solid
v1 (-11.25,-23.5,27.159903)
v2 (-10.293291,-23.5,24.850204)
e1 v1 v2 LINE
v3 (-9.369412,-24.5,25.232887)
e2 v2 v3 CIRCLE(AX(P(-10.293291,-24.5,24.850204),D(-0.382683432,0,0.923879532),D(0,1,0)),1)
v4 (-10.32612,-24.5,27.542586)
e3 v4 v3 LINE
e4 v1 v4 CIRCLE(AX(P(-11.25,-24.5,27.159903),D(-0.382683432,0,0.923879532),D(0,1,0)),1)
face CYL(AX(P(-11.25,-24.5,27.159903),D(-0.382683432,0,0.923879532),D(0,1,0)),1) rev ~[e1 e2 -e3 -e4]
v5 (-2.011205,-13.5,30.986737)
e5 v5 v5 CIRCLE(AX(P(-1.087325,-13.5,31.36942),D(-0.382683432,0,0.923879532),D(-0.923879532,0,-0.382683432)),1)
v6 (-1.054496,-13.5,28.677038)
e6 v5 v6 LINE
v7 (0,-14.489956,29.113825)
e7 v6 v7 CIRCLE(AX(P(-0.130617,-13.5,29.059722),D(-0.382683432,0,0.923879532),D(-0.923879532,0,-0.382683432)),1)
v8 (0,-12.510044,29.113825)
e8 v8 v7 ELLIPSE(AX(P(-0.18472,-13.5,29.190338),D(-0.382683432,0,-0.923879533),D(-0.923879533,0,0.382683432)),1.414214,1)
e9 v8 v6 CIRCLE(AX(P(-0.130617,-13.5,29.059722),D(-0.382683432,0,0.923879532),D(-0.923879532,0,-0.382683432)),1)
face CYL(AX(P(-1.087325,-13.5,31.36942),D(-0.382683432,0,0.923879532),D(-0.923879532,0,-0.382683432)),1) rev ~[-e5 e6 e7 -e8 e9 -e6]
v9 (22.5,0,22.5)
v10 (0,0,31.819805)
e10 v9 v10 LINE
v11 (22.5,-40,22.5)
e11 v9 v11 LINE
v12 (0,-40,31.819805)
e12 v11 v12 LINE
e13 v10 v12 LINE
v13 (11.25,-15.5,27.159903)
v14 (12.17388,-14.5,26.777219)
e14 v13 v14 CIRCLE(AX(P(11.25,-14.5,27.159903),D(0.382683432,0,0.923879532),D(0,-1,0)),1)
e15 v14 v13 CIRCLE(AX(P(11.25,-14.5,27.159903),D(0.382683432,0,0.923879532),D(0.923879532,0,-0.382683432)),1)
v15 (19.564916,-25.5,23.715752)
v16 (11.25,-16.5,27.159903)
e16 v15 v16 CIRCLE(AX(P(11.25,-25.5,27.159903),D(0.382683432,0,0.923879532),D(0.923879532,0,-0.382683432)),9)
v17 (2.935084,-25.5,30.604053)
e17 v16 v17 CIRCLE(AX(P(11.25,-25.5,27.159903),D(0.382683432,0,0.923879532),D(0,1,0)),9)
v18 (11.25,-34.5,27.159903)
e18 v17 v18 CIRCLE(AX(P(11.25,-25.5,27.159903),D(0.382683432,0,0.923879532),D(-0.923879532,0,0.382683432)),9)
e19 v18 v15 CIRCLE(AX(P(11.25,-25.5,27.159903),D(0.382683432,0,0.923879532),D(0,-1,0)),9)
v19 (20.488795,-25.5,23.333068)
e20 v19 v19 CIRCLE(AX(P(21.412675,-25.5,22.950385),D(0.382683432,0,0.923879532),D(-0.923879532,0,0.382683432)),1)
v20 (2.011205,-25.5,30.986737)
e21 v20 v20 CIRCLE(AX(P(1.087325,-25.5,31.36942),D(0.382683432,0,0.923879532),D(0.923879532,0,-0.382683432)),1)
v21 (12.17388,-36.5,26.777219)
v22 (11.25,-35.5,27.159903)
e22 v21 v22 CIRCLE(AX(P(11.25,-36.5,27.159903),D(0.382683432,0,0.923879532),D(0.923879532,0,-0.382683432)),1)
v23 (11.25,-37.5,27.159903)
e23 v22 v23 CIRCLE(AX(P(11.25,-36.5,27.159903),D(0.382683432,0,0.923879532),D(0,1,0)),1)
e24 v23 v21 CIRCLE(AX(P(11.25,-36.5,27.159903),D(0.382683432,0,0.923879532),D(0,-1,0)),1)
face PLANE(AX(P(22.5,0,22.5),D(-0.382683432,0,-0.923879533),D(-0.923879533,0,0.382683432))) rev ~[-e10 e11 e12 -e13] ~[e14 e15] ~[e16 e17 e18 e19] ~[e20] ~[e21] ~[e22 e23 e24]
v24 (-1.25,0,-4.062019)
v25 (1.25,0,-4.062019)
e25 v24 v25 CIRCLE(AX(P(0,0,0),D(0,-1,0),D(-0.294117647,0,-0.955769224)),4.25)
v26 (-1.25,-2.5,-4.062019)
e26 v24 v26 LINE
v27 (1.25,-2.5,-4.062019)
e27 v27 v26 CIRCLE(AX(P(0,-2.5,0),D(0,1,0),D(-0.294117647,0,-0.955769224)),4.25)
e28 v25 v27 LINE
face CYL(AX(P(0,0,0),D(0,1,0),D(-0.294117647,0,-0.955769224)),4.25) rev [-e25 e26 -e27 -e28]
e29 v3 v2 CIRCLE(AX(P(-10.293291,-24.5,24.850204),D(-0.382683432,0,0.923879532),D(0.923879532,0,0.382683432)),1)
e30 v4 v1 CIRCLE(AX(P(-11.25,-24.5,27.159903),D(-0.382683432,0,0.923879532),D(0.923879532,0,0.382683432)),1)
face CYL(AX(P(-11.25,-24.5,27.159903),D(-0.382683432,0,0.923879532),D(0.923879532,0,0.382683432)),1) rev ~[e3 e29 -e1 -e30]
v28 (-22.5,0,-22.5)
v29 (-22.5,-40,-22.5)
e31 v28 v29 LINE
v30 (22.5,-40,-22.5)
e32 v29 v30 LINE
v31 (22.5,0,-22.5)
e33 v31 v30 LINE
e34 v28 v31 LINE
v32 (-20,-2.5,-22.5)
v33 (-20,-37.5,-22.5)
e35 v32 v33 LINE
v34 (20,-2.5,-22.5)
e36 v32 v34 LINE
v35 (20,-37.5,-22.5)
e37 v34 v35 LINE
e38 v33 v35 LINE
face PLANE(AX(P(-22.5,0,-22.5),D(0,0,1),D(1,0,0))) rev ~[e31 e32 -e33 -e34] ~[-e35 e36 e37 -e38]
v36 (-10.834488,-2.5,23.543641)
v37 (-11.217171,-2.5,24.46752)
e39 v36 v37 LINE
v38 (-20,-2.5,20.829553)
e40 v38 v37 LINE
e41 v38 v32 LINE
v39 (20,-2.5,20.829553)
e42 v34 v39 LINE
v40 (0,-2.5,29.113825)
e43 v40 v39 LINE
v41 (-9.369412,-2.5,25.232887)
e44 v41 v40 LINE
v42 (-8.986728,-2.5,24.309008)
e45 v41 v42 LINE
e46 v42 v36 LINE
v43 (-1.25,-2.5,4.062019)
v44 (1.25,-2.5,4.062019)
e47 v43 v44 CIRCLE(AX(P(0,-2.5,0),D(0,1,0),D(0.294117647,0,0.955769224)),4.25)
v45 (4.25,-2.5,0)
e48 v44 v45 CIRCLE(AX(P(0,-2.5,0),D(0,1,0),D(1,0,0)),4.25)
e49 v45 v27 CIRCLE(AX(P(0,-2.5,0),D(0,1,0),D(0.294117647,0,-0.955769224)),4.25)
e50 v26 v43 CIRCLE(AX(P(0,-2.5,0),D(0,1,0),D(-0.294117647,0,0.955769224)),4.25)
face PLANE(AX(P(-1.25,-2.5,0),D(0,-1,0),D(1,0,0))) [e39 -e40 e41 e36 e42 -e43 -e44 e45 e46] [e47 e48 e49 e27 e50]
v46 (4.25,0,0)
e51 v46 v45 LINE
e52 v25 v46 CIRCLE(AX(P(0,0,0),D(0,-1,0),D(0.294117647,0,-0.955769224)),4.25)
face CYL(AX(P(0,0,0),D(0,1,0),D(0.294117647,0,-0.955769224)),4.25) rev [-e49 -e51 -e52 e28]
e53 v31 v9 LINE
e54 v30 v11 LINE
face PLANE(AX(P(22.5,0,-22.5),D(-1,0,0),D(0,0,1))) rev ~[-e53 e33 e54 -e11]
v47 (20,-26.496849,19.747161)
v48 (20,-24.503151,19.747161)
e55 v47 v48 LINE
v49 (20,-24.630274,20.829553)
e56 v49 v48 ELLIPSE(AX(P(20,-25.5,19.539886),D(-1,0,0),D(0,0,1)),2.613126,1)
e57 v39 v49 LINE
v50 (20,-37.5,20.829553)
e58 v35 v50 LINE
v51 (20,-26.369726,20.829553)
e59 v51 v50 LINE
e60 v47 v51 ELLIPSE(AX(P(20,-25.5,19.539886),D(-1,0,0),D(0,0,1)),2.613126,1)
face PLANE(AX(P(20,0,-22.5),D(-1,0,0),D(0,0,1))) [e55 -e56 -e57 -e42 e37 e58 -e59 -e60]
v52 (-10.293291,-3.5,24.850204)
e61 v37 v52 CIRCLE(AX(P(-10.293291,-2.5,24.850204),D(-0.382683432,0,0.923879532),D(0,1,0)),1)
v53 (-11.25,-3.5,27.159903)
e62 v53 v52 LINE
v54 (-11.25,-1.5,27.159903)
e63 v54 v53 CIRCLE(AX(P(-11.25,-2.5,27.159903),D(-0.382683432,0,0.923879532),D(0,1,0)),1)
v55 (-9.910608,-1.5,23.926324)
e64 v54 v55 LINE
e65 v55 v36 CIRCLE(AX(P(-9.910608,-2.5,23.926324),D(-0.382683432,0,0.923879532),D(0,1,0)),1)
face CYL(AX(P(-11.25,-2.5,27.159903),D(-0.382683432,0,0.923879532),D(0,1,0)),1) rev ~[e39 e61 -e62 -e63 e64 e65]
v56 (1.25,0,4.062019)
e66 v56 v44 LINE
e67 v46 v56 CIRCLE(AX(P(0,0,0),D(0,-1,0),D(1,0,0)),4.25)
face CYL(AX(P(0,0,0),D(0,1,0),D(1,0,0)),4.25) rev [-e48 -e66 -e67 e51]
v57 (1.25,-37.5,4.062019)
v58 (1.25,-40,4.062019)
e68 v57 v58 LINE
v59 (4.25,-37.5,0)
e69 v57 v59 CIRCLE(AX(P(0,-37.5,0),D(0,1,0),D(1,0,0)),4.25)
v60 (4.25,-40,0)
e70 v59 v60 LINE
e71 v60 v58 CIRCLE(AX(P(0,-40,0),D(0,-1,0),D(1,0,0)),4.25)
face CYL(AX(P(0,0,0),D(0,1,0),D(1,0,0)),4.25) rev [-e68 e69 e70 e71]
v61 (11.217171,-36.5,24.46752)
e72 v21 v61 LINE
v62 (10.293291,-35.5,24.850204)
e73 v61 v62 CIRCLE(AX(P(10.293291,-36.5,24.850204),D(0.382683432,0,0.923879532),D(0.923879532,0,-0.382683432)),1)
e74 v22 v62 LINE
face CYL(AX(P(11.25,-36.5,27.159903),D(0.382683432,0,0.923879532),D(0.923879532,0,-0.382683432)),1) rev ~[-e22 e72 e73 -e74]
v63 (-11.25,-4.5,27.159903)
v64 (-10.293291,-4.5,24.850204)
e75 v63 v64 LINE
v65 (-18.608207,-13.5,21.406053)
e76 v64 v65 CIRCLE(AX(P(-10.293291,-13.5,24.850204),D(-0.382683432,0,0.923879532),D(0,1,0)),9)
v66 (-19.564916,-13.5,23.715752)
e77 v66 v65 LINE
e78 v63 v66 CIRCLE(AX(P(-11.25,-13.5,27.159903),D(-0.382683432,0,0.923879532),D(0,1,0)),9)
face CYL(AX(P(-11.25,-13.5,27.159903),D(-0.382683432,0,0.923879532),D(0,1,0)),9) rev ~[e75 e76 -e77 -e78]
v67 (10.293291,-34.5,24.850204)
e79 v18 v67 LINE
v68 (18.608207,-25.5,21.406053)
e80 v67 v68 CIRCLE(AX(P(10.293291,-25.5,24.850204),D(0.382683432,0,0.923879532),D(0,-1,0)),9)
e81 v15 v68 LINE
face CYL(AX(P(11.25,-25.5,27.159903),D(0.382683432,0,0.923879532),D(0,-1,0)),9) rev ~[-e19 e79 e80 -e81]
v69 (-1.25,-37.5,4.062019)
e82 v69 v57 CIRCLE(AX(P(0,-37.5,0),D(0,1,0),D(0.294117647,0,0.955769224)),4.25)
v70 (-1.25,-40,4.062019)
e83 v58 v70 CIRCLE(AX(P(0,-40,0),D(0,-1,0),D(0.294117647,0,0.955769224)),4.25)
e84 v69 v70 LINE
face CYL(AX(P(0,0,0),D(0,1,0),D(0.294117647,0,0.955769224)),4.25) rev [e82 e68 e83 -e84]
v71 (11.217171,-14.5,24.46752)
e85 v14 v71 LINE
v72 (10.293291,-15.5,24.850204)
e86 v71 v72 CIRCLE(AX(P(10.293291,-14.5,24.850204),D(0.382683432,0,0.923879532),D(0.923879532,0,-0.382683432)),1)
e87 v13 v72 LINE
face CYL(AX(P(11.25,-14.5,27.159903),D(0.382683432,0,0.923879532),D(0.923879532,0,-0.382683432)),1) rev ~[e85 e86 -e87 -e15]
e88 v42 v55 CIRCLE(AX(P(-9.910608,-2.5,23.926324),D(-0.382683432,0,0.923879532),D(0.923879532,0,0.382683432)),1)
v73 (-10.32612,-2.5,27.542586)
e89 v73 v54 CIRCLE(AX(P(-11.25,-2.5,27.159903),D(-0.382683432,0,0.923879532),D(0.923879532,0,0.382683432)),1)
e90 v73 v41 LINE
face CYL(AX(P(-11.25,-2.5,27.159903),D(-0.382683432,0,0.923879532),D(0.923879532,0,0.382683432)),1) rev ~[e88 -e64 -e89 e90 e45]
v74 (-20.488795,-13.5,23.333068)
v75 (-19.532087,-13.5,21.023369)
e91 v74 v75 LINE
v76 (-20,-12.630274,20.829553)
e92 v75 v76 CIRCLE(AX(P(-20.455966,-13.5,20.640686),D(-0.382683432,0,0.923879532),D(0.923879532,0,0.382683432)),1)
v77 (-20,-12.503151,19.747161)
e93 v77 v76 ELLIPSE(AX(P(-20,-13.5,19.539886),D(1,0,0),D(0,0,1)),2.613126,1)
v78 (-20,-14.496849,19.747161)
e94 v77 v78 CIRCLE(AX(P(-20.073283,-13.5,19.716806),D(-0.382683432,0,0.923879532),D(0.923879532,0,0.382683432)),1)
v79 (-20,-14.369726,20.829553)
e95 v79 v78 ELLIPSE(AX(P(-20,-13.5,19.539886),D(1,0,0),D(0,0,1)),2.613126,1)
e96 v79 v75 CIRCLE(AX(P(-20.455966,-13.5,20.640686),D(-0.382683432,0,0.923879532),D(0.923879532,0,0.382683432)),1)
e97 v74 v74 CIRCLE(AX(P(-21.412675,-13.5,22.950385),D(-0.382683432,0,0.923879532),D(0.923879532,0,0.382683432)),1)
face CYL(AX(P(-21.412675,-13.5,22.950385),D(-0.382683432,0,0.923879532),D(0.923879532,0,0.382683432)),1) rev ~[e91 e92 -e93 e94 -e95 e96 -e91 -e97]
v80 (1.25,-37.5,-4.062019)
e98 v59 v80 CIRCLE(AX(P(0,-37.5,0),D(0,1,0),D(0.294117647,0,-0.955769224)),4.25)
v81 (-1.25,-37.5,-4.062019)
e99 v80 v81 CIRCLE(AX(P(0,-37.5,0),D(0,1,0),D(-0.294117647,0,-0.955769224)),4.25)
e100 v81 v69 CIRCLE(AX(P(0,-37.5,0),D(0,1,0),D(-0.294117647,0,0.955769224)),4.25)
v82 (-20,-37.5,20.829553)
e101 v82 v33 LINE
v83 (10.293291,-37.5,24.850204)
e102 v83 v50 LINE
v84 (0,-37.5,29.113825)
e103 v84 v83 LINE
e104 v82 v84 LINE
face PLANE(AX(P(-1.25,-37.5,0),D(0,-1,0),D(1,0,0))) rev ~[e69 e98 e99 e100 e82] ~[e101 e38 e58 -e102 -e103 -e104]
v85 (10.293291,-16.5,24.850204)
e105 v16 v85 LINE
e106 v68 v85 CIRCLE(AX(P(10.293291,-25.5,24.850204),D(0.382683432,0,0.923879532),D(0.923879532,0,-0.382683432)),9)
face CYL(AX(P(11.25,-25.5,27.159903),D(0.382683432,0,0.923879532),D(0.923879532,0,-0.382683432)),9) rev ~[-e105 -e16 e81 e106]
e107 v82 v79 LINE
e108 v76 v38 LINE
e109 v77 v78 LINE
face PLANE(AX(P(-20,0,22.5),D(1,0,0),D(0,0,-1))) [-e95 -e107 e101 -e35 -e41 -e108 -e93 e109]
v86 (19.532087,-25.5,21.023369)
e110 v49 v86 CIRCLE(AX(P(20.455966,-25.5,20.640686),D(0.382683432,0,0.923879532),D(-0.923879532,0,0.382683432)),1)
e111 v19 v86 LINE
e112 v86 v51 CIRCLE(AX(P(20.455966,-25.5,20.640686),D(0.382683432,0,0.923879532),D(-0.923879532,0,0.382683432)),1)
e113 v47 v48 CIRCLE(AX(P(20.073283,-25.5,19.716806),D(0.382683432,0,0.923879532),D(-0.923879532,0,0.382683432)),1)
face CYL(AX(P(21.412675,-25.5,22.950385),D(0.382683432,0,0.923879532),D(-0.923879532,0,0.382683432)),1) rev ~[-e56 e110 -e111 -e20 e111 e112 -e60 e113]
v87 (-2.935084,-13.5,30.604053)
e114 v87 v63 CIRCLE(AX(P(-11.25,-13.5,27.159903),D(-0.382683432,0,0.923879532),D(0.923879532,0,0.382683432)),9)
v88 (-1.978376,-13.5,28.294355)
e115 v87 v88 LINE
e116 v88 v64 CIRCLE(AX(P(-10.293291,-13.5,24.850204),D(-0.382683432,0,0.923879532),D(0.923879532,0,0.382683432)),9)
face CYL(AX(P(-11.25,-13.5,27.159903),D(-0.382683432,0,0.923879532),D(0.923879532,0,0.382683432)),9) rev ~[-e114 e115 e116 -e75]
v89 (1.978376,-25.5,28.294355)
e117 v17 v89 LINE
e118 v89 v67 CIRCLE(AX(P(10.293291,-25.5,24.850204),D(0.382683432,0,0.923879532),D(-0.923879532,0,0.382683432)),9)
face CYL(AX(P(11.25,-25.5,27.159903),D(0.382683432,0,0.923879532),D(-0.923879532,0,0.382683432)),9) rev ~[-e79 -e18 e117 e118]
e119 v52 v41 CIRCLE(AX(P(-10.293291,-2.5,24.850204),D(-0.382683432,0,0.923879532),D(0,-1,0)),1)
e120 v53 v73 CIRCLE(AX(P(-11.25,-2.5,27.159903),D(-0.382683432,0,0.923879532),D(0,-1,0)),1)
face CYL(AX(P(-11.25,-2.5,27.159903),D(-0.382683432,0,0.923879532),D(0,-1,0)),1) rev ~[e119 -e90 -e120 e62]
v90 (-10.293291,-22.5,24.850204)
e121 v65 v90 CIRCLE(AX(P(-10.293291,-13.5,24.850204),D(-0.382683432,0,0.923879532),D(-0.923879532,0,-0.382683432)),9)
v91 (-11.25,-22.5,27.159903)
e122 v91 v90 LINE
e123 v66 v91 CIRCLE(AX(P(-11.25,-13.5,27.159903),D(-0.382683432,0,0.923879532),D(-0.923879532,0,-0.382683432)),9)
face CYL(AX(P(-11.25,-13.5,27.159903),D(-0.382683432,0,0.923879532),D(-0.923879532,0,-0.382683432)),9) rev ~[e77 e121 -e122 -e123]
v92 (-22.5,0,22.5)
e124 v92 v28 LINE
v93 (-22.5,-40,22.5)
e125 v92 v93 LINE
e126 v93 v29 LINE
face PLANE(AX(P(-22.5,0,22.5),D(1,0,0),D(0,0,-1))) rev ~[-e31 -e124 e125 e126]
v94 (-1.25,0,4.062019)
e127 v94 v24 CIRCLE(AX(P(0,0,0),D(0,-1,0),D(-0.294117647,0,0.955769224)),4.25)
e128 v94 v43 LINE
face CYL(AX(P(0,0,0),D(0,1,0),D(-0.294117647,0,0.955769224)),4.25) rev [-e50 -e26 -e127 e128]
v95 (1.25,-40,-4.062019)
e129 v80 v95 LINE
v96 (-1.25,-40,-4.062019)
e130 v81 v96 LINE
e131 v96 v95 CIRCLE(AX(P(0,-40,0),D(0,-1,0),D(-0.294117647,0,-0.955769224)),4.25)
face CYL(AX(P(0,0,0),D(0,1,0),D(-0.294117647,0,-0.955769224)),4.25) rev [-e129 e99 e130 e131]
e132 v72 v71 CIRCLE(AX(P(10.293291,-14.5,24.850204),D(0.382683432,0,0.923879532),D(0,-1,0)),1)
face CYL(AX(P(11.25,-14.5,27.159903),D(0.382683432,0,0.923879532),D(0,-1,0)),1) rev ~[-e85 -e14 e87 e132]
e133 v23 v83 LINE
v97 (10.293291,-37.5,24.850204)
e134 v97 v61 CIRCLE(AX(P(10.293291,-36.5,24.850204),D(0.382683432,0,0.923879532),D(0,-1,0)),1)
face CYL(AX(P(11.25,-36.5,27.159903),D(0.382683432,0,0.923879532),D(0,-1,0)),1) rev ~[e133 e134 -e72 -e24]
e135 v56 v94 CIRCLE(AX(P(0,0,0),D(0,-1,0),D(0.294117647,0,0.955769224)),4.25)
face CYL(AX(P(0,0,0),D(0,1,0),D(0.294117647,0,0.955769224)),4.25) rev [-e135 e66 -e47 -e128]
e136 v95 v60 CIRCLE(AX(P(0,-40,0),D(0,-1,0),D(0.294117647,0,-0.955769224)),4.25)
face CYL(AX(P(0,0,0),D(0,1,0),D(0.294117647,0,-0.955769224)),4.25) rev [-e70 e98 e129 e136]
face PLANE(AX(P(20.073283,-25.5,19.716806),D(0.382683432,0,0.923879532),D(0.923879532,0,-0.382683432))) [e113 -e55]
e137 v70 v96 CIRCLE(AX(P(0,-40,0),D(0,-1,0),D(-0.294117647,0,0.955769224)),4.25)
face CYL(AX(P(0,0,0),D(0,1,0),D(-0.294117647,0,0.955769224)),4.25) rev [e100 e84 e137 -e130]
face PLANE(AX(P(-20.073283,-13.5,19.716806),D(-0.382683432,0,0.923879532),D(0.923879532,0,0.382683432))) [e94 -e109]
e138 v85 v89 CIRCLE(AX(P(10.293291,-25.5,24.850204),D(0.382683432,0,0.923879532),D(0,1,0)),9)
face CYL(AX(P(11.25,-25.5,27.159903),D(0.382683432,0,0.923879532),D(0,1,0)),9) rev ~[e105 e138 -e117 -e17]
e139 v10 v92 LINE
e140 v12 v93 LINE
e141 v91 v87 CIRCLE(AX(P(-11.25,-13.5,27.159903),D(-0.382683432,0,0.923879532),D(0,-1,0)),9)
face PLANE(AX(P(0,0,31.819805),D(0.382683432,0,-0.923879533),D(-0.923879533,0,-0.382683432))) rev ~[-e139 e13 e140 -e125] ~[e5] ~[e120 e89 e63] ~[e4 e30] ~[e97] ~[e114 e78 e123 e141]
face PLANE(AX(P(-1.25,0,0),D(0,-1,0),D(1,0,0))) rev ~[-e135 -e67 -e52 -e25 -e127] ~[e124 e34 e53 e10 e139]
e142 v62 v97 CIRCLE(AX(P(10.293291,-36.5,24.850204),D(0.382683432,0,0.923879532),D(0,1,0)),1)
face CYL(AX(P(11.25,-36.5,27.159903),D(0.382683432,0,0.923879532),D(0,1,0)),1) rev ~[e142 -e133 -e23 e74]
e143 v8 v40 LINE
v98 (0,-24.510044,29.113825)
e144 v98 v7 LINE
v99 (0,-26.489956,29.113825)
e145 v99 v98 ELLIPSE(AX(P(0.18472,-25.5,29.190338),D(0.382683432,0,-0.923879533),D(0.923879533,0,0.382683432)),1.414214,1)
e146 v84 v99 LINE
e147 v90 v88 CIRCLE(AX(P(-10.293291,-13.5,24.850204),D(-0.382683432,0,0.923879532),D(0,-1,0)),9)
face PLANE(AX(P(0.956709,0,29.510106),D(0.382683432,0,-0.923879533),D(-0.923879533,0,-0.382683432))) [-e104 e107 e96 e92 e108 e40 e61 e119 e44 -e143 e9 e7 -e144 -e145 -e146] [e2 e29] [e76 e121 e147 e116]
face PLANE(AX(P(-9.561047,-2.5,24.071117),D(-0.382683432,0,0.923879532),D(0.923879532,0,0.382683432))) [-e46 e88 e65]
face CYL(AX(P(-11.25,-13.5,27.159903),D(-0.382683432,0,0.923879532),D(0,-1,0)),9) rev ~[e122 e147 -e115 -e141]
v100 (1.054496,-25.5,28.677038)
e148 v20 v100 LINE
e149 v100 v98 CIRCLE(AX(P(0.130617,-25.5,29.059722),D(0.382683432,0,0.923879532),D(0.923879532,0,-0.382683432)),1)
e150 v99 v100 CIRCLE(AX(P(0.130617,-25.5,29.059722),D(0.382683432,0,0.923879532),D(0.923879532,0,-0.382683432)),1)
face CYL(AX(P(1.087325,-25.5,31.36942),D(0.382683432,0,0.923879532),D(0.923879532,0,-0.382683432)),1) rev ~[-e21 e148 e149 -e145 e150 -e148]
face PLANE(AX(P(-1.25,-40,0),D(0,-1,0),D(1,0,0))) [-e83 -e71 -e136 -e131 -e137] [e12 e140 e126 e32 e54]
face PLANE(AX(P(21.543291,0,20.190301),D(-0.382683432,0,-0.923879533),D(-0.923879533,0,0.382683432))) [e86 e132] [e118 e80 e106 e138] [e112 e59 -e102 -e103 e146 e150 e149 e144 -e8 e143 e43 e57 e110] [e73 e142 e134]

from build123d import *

# Parameters (mm, degrees)
F0_W     = 2.5
F0_H     = 40
F0_H_2   = 2.5
F1_DEPTH = 40
F2_T     = -2.5
F3_DEPTH = 40
F5_R     = 1
F6_DEPTH = 3.5
F4_R     = 1
F7_DEPTH = 3.5


with BuildPart() as f1:
    # F0 (on Front) → F1 (new body)
    with BuildSketch(Plane.XZ):
        Polygon((20, 20), (20, 22.5), (-22.5, 22.5), (-22.5, -22.5), (20, -22.5), (20, -20), (17.5, -20), (17.5, 20), align=None)
        with Locations((-18.75, 0)):
            Rectangle(F0_W, F0_H, mode=Mode.SUBTRACT)
        with Locations((-12.5, 0)):
            Rectangle(F0_W, F0_H, mode=Mode.SUBTRACT)
        with BuildLine():
            Line((1.25, 20), (1.25, 6.6332495807))
            ThreePointArc((1.25, 6.6332495807), (3.2964706517, 5.8903124911), (5, 4.5345892868))
            Line((5, 4.5345892868), (5, 20))
            Line((5, 20), (7.5, 20))
            Line((7.5, 20), (7.5, -20))
            Line((7.5, -20), (5, -20))
            Line((5, -20), (5, -4.5345892868))
            ThreePointArc((5, -4.5345892868), (3.2964706517, -5.8903124911), (1.25, -6.6332495807))
            Line((1.25, -6.6332495807), (1.25, -20))
            Line((1.25, -20), (-1.25, -20))
            Line((-1.25, -20), (-1.25, -6.6332495807))
            ThreePointArc((-1.25, -6.6332495807), (-3.2964706517, -5.8903124911), (-5, -4.5345892868))
            Line((-5, -4.5345892868), (-5, -20))
            Line((-5, -20), (-7.5, -20))
            Line((-7.5, -20), (-7.5, 20))
            Line((-7.5, 20), (-5, 20))
            Line((-5, 20), (-5, 4.5345892868))
            ThreePointArc((-5, 4.5345892868), (-3.2964706517, 5.8903124911), (-1.25, 6.6332495807))
            Line((-1.25, 6.6332495807), (-1.25, 20))
            Line((-1.25, 20), (1.25, 20))
        make_face(mode=Mode.SUBTRACT)
        with Locations((12.5, 0)):
            Rectangle(F0_W, F0_H, mode=Mode.SUBTRACT)
        Polygon((20, 22.5), (22.5, 22.5), (0, 31.8198051534), (-22.5, 22.5), align=None)
        with Locations((-12.5, 0)):
            Rectangle(F0_W, F0_H)
        with Locations((18.75, 0)):
            Rectangle(F0_W, F0_H)
        with Locations((-18.75, 0)):
            Rectangle(F0_W, F0_H)
        with Locations((21.25, 0)):
            Rectangle(F0_W, F0_H)
        with Locations((12.5, 0)):
            Rectangle(F0_W, F0_H)
        with BuildLine():
            Line((5, 20), (5, 4.5345892868))
            ThreePointArc((5, 4.5345892868), (6.2973208589, 2.4302777619), (6.75, 0))
            ThreePointArc((6.75, 0), (6.2973208589, -2.4302777619), (5, -4.5345892868))
            Line((5, -4.5345892868), (5, -20))
            Line((5, -20), (7.5, -20))
            Line((7.5, -20), (7.5, 20))
            Line((7.5, 20), (5, 20))
        make_face()
        with BuildLine():
            ThreePointArc((-5, -4.5345892868), (-6.75, 0), (-5, 4.5345892868))
            Line((-5, 4.5345892868), (-5, 20))
            Line((-5, 20), (-7.5, 20))
            Line((-7.5, 20), (-7.5, -20))
            Line((-7.5, -20), (-5, -20))
            Line((-5, -20), (-5, -4.5345892868))
        make_face()
        with BuildLine():
            ThreePointArc((-1.25, 6.6332495807), (0, 6.75), (1.25, 6.6332495807))
            Line((1.25, 6.6332495807), (1.25, 20))
            Line((1.25, 20), (-1.25, 20))
            Line((-1.25, 20), (-1.25, 6.6332495807))
        make_face()
        with BuildLine():
            Line((1.25, -20), (1.25, -6.6332495807))
            ThreePointArc((1.25, -6.6332495807), (0, -6.75), (-1.25, -6.6332495807))
            Line((-1.25, -6.6332495807), (-1.25, -20))
            Line((-1.25, -20), (1.25, -20))
        make_face()
        with BuildLine():
            ThreePointArc((-1.25, -4.0620192023), (-4.25, 0), (-1.25, 4.0620192023))
            Line((-1.25, 4.0620192023), (-1.25, 6.6332495807))
            ThreePointArc((-1.25, 6.6332495807), (-3.2964706517, 5.8903124911), (-5, 4.5345892868))
            Line((-5, 4.5345892868), (-5, -4.5345892868))
            ThreePointArc((-5, -4.5345892868), (-3.2964706517, -5.8903124911), (-1.25, -6.6332495807))
            Line((-1.25, -6.6332495807), (-1.25, -4.0620192023))
        make_face()
        with BuildLine():
            ThreePointArc((1.25, 4.0620192023), (3.4186985828, 2.5248762346), (4.25, 0))
            ThreePointArc((4.25, 0), (3.4186985828, -2.5248762346), (1.25, -4.0620192023))
            Line((1.25, -4.0620192023), (1.25, -6.6332495807))
            ThreePointArc((1.25, -6.6332495807), (3.2964706517, -5.8903124911), (5, -4.5345892868))
            Line((5, -4.5345892868), (5, 4.5345892868))
            ThreePointArc((5, 4.5345892868), (3.2964706517, 5.8903124911), (1.25, 6.6332495807))
            Line((1.25, 6.6332495807), (1.25, 4.0620192023))
        make_face()
        with BuildLine():
            Line((1.25, -4.0620192023), (1.25, 4.0620192023))
            ThreePointArc((1.25, 4.0620192023), (0, 4.25), (-1.25, 4.0620192023))
            Line((-1.25, 4.0620192023), (-1.25, -4.0620192023))
            ThreePointArc((-1.25, -4.0620192023), (0, -4.25), (1.25, -4.0620192023))
        make_face()
        with BuildLine():
            Line((-1.25, -4.0620192023), (-1.25, 4.0620192023))
            ThreePointArc((-1.25, 4.0620192023), (-4.25, 0), (-1.25, -4.0620192023))
        make_face()
        with BuildLine():
            ThreePointArc((1.25, -4.0620192023), (3.4186985828, -2.5248762346), (4.25, 0))
            ThreePointArc((4.25, 0), (3.4186985828, 2.5248762346), (1.25, 4.0620192023))
            Line((1.25, 4.0620192023), (1.25, -4.0620192023))
        make_face()
        with BuildLine():
            ThreePointArc((6.75, 0), (6.2973208589, 2.4302777619), (5, 4.5345892868))
            Line((5, 4.5345892868), (5, -4.5345892868))
            ThreePointArc((5, -4.5345892868), (6.2973208589, -2.4302777619), (6.75, 0))
        make_face()
        with BuildLine():
            Line((-5, -4.5345892868), (-5, 4.5345892868))
            ThreePointArc((-5, 4.5345892868), (-6.75, 0), (-5, -4.5345892868))
        make_face()
        with BuildLine():
            Line((1.25, -6.6332495807), (1.25, -4.0620192023))
            ThreePointArc((1.25, -4.0620192023), (0, -4.25), (-1.25, -4.0620192023))
            Line((-1.25, -4.0620192023), (-1.25, -6.6332495807))
            ThreePointArc((-1.25, -6.6332495807), (0, -6.75), (1.25, -6.6332495807))
        make_face()
        with BuildLine():
            ThreePointArc((-1.25, 4.0620192023), (0, 4.25), (1.25, 4.0620192023))
            Line((1.25, 4.0620192023), (1.25, 6.6332495807))
            ThreePointArc((1.25, 6.6332495807), (0, 6.75), (-1.25, 6.6332495807))
            Line((-1.25, 6.6332495807), (-1.25, 4.0620192023))
        make_face()
        with Locations((21.25, -21.25)):
            Rectangle(F0_W, F0_H_2)
        with Locations((21.25, 21.25)):
            Rectangle(F0_W, F0_H_2)
    extrude(amount=F1_DEPTH)

    # F2
    f2_openings = [f1.faces().sort_by_distance(p)[0] for p in [
        (0, -20, -22.5),
    ]]
    offset(amount=F2_T, openings=f2_openings)

    # F0 (on Front) → F3 (cut)
    with BuildSketch(Plane.XZ):
        with BuildLine():
            ThreePointArc((1.25, -4.0620192023), (3.4186985828, -2.5248762346), (4.25, 0))
            ThreePointArc((4.25, 0), (3.4186985828, 2.5248762346), (1.25, 4.0620192023))
            Line((1.25, 4.0620192023), (1.25, -4.0620192023))
        make_face()
        with BuildLine():
            Line((1.25, -4.0620192023), (1.25, 4.0620192023))
            ThreePointArc((1.25, 4.0620192023), (0, 4.25), (-1.25, 4.0620192023))
            Line((-1.25, 4.0620192023), (-1.25, -4.0620192023))
            ThreePointArc((-1.25, -4.0620192023), (0, -4.25), (1.25, -4.0620192023))
        make_face()
        with BuildLine():
            Line((-1.25, -4.0620192023), (-1.25, 4.0620192023))
            ThreePointArc((-1.25, 4.0620192023), (-4.25, 0), (-1.25, -4.0620192023))
        make_face()
    extrude(amount=F3_DEPTH, mode=Mode.SUBTRACT)

    # F5 (on face) → F6 (cut)
    with BuildSketch(Plane(origin=(11.25, 0, 27.1599025767), x_dir=(0.9238795325, 0, -0.3826834324), z_dir=(0.3826834324, 0, 0.9238795325))):
        with BuildLine():
            Line((0, -16.5), (0, -25.5))
            Line((0, -25.5), (9, -25.5))
            ThreePointArc((9, -25.5), (6.3639610307, -19.1360389693), (0, -16.5))
        make_face()
        with BuildLine():
            Line((-9, -25.5), (0, -25.5))
            Line((0, -25.5), (0, -16.5))
            ThreePointArc((0, -16.5), (-6.3639610307, -19.1360389693), (-9, -25.5))
        make_face()
        with BuildLine():
            ThreePointArc((-9, -25.5), (-6.3639610307, -31.8639610307), (0, -34.5))
            Line((0, -34.5), (0, -25.5))
            Line((0, -25.5), (-9, -25.5))
        make_face()
        with BuildLine():
            Line((0, -25.5), (0, -34.5))
            ThreePointArc((0, -34.5), (6.3639610307, -31.8639610307), (9, -25.5))
            Line((9, -25.5), (0, -25.5))
        make_face()
        with Locations((-11, -25.5)):
            Circle(F5_R)
        with BuildLine():
            ThreePointArc((1, -14.5), (-0.7071067812, -13.7928932188), (0, -15.5))
            ThreePointArc((0, -15.5), (0.7071067812, -15.2071067812), (1, -14.5))
        make_face()
        with BuildLine():
            ThreePointArc((12, -25.5), (11, -24.5), (10, -25.5))
            ThreePointArc((10, -25.5), (11, -26.5), (12, -25.5))
        make_face()
        with BuildLine():
            Line((0, -36.5), (0, -37.5))
            ThreePointArc((0, -37.5), (0.7071067812, -37.2071067812), (1, -36.5))
            ThreePointArc((1, -36.5), (0.7071067812, -35.7928932188), (0, -35.5))
            Line((0, -35.5), (0, -36.5))
        make_face()
        with BuildLine():
            ThreePointArc((0, -35.5), (-1, -36.5), (0, -37.5))
            Line((0, -37.5), (0, -36.5))
            Line((0, -36.5), (0, -35.5))
        make_face()
    extrude(amount=-F6_DEPTH, mode=Mode.SUBTRACT)

    # F4 (on face) → F7 (cut)
    with BuildSketch(Plane(origin=(-11.25, 0, 27.1599025767), x_dir=(0.9238795325, 0, 0.3826834324), z_dir=(-0.3826834324, 0, 0.9238795325))):
        with BuildLine():
            ThreePointArc((9, -13.5), (6.3639610307, -7.1360389693), (0, -4.5))
            Line((0, -4.5), (0, -13.5))
            Line((0, -13.5), (9, -13.5))
        make_face()
        with BuildLine():
            Line((0, -13.5), (0, -4.5))
            ThreePointArc((0, -4.5), (-6.3639610307, -7.1360389693), (-9, -13.5))
            Line((-9, -13.5), (0, -13.5))
        make_face()
        with BuildLine():
            Line((0, -22.5), (0, -13.5))
            Line((0, -13.5), (-9, -13.5))
            ThreePointArc((-9, -13.5), (-6.3639610307, -19.8639610307), (0, -22.5))
        make_face()
        with BuildLine():
            Line((9, -13.5), (0, -13.5))
            Line((0, -13.5), (0, -22.5))
            ThreePointArc((0, -22.5), (6.3639610307, -19.8639610307), (9, -13.5))
        make_face()
        with BuildLine():
            ThreePointArc((1, -2.5), (0.7071067812, -1.7928932188), (0, -1.5))
            Line((0, -1.5), (0, -2.5))
            Line((0, -2.5), (0, -3.5))
            ThreePointArc((0, -3.5), (0.7071067812, -3.2071067812), (1, -2.5))
        make_face()
        with BuildLine():
            Line((0, -2.5), (0, -1.5))
            ThreePointArc((0, -1.5), (-1, -2.5), (0, -3.5))
            Line((0, -3.5), (0, -2.5))
        make_face()
        with Locations((-11, -13.5)):
            Circle(F4_R)
        with BuildLine():
            ThreePointArc((1, -24.5), (0.7071067812, -23.7928932188), (0, -23.5))
            ThreePointArc((0, -23.5), (-0.7071067812, -25.2071067812), (1, -24.5))
        make_face()
        with BuildLine():
            ThreePointArc((12, -13.5), (11, -12.5), (10, -13.5))
            ThreePointArc((10, -13.5), (11, -14.5), (12, -13.5))
        make_face()
    extrude(amount=-F7_DEPTH, mode=Mode.SUBTRACT)


solid = f1.part
